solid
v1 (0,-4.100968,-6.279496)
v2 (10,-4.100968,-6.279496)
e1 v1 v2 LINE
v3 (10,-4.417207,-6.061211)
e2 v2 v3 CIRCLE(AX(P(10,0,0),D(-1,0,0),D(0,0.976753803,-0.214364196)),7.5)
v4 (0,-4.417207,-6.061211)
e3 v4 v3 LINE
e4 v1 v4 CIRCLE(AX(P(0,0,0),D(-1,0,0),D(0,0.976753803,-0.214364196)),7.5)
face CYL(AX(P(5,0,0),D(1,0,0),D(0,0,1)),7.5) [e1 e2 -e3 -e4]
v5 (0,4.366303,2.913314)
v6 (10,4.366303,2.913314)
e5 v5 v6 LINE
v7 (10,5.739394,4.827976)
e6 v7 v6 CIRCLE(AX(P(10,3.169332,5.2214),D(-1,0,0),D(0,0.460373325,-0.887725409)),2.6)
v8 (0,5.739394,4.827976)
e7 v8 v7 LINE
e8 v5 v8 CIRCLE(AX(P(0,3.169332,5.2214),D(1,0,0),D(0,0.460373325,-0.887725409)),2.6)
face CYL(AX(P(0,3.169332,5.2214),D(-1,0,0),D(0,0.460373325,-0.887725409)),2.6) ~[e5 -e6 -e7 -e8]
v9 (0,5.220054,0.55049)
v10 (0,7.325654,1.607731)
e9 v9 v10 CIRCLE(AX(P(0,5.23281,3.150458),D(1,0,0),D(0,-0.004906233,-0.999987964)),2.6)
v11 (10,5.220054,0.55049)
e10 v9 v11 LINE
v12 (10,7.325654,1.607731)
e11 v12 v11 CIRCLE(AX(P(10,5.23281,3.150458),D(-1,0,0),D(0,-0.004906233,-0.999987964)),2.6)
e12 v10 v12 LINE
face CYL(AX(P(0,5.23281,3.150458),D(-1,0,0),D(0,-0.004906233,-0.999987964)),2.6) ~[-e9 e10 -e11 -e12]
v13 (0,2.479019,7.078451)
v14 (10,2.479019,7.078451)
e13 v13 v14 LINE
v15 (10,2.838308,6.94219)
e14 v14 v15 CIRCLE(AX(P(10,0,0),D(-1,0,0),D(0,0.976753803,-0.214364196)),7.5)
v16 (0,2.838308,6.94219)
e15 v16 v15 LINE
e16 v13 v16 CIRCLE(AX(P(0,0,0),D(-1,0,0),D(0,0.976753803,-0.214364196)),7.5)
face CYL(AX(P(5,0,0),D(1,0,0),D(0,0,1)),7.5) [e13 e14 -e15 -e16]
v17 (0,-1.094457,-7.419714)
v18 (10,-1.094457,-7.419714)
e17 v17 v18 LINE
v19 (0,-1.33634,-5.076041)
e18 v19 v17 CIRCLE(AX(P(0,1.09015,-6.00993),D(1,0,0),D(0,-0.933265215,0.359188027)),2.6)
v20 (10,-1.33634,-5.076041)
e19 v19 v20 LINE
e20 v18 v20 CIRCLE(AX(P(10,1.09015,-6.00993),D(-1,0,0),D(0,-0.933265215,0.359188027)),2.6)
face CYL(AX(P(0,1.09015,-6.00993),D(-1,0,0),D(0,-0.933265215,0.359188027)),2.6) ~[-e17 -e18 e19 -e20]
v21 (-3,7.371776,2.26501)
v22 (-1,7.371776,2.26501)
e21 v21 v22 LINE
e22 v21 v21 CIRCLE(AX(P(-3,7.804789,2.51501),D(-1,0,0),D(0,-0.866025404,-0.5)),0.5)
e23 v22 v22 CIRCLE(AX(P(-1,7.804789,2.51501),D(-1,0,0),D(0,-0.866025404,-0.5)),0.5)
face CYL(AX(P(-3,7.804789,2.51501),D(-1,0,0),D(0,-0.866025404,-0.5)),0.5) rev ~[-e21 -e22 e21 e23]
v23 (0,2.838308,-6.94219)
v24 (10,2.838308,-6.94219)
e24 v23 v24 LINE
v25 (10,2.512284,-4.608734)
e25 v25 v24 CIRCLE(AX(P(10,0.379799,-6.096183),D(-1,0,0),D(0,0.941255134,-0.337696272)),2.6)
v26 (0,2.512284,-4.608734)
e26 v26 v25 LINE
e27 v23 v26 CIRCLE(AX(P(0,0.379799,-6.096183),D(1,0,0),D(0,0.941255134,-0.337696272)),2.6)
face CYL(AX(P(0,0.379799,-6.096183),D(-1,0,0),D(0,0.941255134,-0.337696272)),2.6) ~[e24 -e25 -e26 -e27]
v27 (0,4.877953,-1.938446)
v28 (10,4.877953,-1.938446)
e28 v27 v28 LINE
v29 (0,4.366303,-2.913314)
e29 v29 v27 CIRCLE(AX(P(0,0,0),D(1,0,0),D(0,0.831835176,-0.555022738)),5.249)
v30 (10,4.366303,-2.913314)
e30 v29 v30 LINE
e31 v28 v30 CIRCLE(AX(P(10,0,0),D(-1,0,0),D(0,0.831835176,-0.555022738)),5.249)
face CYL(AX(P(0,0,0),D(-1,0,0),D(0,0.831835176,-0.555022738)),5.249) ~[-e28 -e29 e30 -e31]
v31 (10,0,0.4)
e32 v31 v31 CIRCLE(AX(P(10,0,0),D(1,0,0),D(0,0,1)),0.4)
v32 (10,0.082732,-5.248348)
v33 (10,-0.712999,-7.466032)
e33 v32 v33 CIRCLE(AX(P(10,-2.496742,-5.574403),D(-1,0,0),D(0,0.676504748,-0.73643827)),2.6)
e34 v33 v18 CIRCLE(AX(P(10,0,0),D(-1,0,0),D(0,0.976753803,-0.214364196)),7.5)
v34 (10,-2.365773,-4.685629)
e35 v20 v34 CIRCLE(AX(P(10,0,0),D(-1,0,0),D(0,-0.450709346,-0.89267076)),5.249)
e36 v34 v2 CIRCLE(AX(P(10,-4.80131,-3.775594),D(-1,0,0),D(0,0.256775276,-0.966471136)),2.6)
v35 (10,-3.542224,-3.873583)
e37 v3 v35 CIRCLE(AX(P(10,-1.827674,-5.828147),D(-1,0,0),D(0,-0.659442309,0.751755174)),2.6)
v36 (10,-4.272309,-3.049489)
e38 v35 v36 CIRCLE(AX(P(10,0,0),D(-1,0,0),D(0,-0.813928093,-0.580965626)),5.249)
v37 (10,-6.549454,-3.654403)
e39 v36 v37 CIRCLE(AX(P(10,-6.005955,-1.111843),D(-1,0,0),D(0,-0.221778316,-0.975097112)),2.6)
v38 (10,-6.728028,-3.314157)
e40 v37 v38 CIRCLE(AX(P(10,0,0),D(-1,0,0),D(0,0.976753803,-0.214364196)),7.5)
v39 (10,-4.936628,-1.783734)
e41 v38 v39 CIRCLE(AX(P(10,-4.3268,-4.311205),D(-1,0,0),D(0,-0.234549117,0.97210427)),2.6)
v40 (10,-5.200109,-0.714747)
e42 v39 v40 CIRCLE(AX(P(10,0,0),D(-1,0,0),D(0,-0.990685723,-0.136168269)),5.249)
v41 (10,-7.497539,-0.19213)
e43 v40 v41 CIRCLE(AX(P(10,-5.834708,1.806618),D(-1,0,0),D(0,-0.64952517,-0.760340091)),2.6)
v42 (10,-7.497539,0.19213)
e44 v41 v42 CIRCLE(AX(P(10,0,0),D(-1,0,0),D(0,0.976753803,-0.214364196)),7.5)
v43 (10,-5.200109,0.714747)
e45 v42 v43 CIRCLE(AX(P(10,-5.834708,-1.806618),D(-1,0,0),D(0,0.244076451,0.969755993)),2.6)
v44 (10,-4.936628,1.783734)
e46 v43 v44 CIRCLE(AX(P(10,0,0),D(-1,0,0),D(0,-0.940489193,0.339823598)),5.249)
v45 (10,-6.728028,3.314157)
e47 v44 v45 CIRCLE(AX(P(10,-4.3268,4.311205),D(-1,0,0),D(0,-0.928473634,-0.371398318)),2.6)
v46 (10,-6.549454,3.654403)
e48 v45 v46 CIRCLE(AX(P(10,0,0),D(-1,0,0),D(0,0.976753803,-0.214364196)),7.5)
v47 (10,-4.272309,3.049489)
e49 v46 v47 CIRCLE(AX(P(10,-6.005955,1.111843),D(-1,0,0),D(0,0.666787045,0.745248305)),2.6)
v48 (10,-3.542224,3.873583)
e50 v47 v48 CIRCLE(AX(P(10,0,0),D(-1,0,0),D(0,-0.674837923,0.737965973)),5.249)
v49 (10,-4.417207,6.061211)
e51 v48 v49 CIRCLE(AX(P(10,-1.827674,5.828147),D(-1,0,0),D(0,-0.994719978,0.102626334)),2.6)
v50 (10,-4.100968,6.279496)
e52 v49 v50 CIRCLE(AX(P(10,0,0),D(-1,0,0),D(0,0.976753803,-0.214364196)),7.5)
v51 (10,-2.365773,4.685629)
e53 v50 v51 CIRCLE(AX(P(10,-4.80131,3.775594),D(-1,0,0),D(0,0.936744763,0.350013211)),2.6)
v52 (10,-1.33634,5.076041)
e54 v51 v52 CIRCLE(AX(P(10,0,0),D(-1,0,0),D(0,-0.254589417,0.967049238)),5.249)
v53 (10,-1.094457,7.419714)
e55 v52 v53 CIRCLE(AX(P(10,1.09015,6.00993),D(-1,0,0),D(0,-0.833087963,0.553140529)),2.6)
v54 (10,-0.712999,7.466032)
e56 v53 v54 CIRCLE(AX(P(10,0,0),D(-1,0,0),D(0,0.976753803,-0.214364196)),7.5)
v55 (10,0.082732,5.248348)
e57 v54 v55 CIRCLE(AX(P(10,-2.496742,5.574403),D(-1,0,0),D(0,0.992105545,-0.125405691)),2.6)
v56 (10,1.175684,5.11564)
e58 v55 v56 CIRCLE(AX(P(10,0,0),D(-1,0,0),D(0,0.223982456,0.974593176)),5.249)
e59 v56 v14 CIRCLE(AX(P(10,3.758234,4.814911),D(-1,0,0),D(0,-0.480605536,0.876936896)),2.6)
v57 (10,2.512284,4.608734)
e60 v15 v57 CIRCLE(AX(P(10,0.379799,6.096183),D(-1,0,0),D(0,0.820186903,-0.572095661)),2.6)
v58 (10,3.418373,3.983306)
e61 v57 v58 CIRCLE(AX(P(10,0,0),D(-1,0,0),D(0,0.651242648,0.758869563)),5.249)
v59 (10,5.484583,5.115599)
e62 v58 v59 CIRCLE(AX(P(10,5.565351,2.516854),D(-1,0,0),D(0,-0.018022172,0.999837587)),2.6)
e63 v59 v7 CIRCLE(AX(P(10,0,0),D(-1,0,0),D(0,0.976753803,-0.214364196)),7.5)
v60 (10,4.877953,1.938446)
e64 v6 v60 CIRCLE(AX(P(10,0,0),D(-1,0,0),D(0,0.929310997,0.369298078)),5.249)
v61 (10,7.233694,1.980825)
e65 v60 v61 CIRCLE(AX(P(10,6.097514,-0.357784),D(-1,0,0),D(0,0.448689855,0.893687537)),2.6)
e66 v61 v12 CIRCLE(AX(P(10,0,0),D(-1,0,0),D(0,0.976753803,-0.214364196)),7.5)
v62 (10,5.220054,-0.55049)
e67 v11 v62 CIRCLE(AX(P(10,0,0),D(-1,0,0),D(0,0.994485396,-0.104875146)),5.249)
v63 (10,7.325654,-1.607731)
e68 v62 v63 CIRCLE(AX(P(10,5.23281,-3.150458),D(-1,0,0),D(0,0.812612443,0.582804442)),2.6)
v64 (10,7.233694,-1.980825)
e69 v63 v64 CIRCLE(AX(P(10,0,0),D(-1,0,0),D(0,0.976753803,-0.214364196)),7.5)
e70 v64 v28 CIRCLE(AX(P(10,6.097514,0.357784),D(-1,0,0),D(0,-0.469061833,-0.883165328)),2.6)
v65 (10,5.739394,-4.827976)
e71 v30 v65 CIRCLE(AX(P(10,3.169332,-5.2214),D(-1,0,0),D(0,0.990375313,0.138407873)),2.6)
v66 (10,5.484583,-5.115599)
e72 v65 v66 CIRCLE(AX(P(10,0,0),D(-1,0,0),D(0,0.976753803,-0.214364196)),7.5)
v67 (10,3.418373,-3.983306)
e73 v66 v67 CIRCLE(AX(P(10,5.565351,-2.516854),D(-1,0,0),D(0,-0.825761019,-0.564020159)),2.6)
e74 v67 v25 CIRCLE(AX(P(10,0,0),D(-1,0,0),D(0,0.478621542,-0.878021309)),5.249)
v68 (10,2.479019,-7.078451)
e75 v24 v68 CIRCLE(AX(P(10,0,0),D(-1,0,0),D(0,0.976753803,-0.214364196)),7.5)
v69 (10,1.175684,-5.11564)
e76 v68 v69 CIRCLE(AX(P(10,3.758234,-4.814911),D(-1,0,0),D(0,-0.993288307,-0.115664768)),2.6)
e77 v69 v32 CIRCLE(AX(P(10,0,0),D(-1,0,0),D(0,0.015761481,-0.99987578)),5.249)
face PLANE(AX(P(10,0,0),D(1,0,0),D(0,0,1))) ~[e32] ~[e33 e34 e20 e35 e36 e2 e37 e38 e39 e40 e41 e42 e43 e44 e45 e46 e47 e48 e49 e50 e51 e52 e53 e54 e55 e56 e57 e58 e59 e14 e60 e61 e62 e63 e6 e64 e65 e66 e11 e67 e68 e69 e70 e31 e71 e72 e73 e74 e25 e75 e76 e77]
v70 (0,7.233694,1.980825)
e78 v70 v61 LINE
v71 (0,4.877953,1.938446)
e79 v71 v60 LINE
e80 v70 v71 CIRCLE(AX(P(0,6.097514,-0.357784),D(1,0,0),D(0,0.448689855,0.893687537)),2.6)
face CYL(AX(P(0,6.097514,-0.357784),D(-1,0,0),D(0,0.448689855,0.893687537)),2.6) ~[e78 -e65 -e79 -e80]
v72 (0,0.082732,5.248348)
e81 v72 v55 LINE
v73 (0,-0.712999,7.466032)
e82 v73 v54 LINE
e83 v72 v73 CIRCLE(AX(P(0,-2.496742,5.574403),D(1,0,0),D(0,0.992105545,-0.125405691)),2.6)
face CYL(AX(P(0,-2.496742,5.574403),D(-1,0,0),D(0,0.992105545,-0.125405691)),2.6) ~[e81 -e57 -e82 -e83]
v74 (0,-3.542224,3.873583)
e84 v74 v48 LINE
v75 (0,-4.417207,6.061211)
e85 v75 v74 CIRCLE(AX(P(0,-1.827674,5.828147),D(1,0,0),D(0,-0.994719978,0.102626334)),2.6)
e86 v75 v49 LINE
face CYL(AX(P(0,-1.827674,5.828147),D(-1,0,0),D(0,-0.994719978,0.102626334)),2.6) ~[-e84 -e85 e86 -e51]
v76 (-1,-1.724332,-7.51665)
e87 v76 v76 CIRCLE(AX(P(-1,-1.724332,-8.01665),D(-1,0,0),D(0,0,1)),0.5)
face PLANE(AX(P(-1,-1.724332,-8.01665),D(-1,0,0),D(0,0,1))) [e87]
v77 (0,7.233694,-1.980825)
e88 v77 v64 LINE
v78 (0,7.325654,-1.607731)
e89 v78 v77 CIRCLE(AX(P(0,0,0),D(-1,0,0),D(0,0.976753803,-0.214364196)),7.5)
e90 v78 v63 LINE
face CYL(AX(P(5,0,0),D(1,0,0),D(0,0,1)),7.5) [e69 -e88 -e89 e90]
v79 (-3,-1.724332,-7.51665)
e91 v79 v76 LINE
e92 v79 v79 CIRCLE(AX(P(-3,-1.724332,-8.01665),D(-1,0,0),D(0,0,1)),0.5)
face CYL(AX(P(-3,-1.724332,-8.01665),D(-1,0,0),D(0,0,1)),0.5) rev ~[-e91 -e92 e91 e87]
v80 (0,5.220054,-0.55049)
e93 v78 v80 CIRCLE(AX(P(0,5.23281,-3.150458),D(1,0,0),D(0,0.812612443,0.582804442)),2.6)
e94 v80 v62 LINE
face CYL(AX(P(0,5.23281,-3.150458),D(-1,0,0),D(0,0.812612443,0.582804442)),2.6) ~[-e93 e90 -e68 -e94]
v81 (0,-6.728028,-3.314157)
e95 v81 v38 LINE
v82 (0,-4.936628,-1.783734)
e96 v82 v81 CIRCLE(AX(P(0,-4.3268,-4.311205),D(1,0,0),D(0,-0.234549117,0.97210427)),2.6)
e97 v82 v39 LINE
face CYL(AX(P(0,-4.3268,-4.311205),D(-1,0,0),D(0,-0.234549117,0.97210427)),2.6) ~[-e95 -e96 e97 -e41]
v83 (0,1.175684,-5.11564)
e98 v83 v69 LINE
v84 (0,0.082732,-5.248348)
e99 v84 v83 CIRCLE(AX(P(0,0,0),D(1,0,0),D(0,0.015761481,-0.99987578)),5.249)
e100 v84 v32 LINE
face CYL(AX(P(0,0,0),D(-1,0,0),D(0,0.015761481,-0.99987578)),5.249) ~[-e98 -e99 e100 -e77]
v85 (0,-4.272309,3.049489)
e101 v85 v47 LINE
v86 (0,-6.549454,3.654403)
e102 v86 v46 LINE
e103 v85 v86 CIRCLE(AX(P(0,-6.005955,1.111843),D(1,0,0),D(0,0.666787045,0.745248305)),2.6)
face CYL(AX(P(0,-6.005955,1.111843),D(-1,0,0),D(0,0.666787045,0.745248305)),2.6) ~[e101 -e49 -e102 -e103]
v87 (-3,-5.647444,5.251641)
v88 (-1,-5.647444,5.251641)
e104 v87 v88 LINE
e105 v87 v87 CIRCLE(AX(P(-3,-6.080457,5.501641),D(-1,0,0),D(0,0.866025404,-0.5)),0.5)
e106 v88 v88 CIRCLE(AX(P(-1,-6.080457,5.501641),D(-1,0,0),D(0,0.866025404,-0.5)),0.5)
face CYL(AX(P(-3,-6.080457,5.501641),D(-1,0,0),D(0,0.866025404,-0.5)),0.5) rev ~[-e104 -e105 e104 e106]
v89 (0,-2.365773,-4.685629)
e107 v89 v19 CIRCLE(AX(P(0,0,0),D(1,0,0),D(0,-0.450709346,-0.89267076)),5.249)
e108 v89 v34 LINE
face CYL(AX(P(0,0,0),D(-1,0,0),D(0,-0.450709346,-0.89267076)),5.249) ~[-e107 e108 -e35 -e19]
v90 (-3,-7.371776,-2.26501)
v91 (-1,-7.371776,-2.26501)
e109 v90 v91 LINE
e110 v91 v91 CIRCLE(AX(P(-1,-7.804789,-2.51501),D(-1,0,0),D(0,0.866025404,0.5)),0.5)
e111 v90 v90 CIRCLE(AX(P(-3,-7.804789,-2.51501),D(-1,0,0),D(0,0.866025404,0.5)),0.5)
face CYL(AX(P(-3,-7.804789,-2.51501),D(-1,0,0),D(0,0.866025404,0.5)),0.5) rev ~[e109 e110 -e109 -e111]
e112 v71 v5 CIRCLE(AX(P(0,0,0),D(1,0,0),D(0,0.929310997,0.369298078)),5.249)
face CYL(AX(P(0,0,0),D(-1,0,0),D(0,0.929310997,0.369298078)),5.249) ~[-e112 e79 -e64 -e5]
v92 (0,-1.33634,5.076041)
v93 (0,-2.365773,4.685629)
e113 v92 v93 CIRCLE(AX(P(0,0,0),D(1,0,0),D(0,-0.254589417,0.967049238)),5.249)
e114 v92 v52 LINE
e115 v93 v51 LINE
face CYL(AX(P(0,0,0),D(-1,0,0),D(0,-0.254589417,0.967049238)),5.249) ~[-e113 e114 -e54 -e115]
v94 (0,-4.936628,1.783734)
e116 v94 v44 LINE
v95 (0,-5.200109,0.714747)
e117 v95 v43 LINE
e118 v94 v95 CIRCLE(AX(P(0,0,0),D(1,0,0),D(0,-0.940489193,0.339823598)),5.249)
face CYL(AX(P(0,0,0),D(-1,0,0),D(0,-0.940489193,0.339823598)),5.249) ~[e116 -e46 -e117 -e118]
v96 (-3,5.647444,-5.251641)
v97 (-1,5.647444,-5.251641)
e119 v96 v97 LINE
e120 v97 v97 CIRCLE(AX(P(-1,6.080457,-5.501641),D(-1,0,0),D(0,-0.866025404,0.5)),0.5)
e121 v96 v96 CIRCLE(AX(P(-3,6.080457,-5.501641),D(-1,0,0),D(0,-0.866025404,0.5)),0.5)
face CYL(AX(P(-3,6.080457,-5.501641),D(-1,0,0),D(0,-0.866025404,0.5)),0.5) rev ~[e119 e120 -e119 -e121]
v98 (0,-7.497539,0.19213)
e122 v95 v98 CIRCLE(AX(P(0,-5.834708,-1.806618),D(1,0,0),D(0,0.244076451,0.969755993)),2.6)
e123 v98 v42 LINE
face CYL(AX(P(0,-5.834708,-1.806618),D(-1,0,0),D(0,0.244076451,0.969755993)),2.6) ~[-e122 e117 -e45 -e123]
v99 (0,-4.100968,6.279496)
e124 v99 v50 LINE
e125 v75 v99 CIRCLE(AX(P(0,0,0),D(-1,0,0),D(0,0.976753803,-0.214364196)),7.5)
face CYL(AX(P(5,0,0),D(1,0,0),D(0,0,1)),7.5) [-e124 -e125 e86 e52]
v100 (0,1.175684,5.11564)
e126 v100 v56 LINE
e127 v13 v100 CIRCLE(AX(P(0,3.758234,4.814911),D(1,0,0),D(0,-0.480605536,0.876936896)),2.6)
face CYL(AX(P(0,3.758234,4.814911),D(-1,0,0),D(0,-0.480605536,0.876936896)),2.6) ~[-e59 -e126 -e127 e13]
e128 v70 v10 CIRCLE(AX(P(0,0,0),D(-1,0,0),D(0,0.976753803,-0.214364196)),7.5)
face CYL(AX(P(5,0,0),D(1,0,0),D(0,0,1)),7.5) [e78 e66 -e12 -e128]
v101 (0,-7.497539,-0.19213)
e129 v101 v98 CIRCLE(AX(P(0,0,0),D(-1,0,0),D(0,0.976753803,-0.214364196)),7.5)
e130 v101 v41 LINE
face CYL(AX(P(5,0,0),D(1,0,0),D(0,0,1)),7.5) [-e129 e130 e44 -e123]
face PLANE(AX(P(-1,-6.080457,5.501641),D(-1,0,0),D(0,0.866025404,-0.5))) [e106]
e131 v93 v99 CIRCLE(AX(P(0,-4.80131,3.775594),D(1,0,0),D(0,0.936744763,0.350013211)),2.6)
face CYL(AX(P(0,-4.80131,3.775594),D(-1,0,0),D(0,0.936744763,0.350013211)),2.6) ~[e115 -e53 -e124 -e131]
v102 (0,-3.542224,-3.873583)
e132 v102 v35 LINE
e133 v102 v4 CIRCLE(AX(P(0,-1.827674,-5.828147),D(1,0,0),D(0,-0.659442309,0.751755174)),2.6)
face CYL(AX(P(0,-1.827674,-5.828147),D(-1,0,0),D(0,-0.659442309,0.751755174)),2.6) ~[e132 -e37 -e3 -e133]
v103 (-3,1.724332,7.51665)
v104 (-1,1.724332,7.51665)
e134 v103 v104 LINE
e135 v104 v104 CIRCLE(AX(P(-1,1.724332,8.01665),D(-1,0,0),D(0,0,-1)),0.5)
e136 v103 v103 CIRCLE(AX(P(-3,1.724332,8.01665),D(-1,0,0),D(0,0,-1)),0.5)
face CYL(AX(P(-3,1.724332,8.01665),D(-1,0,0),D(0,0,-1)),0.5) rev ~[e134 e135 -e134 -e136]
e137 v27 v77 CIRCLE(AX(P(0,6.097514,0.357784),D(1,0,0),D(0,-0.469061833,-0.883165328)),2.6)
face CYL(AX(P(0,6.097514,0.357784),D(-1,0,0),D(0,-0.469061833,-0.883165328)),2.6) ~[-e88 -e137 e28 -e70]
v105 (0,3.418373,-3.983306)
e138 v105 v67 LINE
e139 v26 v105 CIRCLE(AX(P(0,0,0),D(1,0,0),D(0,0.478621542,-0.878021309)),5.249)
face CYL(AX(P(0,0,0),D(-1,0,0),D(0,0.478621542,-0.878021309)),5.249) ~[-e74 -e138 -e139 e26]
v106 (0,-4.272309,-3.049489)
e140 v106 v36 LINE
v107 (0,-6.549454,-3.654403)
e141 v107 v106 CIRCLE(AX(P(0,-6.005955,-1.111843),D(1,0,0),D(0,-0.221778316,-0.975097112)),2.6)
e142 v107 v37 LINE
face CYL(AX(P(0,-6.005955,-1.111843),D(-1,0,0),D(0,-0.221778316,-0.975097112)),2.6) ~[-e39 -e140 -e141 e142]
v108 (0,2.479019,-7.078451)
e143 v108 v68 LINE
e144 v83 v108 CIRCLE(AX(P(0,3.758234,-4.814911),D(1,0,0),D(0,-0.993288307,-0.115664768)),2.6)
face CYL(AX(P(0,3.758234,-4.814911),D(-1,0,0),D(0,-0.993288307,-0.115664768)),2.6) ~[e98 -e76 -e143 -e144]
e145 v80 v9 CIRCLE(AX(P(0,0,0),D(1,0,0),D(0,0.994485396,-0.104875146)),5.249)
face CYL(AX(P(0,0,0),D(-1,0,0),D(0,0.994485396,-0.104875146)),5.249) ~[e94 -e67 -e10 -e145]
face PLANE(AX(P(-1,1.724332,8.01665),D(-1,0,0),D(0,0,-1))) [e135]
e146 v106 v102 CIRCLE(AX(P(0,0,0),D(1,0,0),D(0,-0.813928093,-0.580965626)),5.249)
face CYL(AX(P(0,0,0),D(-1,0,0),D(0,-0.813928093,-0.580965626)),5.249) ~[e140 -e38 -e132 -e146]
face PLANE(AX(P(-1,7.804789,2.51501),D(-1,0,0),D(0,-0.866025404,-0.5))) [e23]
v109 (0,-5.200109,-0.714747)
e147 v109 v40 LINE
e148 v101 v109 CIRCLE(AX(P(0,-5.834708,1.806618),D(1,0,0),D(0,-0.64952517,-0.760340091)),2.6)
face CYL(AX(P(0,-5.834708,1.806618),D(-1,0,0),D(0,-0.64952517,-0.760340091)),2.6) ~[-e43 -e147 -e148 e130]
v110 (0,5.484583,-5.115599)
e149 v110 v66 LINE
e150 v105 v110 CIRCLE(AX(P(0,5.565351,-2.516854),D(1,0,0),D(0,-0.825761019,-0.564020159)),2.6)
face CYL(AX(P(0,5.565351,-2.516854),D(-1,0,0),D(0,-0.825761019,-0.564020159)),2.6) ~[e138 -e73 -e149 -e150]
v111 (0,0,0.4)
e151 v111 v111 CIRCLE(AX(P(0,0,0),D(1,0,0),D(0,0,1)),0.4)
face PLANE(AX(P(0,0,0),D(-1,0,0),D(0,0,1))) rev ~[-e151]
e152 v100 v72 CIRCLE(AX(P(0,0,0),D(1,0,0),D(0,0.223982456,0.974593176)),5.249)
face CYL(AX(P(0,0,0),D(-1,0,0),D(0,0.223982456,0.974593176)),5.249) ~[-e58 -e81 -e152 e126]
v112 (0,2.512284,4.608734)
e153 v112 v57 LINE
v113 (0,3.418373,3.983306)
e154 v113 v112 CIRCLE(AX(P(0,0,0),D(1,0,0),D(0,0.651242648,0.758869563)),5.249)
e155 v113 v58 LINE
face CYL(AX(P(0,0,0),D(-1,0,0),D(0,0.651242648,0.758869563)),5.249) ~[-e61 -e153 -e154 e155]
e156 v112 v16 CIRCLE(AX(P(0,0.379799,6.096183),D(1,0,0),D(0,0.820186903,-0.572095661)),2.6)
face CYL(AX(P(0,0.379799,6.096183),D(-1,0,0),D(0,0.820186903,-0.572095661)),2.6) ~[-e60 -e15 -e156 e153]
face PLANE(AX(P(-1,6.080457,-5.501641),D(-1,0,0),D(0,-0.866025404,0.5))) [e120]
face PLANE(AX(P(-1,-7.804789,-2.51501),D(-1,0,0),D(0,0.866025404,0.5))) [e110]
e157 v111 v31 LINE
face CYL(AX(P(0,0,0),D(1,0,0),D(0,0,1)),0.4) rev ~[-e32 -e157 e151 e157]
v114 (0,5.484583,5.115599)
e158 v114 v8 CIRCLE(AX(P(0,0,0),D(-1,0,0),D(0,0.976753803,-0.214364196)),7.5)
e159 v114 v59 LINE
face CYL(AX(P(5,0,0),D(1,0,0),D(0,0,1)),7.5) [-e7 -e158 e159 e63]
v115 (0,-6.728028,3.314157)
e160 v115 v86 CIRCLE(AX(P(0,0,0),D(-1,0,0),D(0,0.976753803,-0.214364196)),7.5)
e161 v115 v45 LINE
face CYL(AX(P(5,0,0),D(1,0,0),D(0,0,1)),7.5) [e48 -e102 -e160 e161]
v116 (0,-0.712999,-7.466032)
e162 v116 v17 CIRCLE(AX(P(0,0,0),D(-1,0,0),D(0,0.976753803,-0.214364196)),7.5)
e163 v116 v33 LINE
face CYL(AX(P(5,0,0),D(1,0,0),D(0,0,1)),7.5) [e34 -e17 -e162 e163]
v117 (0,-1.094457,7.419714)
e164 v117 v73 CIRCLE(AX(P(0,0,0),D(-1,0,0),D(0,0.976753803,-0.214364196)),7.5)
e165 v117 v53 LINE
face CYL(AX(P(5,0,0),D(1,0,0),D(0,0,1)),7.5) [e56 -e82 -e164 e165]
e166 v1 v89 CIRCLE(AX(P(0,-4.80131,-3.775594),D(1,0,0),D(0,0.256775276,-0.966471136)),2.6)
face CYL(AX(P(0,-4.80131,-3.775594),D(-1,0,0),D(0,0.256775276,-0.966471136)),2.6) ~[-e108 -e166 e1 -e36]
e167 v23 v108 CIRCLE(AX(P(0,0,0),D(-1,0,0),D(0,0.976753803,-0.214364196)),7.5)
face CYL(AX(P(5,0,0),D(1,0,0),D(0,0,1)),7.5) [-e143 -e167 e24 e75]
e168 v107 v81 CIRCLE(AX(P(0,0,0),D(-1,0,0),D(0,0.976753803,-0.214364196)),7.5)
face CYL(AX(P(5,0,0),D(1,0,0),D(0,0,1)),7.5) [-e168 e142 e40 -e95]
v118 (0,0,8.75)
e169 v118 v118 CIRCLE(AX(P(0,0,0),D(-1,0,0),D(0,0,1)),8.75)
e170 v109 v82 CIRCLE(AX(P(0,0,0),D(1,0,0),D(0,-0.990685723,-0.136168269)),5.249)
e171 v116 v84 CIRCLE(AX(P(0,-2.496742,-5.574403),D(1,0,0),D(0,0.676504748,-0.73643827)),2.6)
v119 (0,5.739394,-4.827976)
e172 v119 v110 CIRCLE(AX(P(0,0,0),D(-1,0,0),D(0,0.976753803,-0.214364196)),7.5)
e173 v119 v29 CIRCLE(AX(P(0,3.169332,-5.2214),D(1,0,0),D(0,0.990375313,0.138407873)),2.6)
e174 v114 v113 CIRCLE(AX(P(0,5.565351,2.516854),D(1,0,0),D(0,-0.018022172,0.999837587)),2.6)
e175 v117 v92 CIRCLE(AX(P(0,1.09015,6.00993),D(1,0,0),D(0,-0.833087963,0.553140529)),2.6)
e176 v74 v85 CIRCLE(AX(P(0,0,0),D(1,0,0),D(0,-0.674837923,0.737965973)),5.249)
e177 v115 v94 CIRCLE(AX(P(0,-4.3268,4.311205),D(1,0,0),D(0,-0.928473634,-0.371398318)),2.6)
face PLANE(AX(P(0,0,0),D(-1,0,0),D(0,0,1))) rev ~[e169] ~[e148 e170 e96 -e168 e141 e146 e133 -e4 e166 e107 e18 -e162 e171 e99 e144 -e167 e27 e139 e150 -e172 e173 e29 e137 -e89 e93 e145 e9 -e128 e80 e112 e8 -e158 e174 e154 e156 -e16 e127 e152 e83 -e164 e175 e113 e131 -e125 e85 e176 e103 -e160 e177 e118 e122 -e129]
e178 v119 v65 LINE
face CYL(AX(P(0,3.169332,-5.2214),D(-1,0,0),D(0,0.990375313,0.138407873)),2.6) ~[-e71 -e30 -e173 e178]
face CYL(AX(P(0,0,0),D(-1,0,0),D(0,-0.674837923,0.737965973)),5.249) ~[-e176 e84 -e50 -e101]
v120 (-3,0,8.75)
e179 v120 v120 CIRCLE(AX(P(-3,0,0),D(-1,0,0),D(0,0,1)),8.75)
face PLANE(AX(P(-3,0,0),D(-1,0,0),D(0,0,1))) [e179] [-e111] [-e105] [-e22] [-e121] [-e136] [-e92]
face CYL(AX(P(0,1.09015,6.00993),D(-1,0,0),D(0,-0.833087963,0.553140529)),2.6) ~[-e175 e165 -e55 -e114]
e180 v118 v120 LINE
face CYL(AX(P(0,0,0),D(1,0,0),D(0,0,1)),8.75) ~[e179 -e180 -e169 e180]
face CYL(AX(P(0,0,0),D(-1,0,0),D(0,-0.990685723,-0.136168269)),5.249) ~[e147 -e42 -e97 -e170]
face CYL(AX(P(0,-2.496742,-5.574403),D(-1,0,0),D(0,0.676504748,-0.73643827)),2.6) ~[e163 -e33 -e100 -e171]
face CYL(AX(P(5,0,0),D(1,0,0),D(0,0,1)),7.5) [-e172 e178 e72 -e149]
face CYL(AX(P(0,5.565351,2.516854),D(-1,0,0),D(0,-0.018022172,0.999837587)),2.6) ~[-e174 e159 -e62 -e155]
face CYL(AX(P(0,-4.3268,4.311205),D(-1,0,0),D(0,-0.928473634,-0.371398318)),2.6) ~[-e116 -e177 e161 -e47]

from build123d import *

# Parameters (mm, degrees)
BASPROSKE_W         = 10
BASPROSKE_H         = 7.5
TOOTHCUT_DEPTH      = 15.577379737
TEETHCUTS_COUNT     = 13
TEETHCUTS_ANGLE     = 332.307692308
BORSKE_R            = 0.4
BORE_DEPTH          = 50.0000508
SKETCH1_R           = 8.75
BOSS_EXTRUDE1_DEPTH = 3
SKETCH6_R           = 0.5
CUT_EXTRUDE1_DEPTH  = 2
CIRPATTERN1_COUNT   = 6


with BuildPart() as part:
    # BasProSke → Base-Revolve (revolve)
    with BuildSketch(Plane(origin=(0, 0, 0), x_dir=(1, 0, 0), z_dir=(0, 1, 0)), mode=Mode.PRIVATE) as base_revolve_sk:
        with Locations((5, 3.75)):
            Rectangle(BASPROSKE_W, BASPROSKE_H)
    revolve(base_revolve_sk.sketch.rotate(Axis((-10, 0, 0), (1, 0, 0)), 180), axis=Axis((-10, 0, 0), (1, 0, 0)))

    # TooCutSke → ToothCut (cut, through all)
    with BuildSketch(Plane(origin=(0, 0, 0), x_dir=(0, 0, -1), z_dir=(1, 0, 0))):
        with BuildLine():
            ThreePointArc((0.550489643, 5.220053846), (0, 5.249), (-0.550489643, 5.220053846))
            ThreePointArc((-0.550489643, 5.220053846), (-0.834571714, 6.414617604), (-1.635166801, 7.345602405))
            ThreePointArc((-1.635166801, 7.345602405), (0, 7.5254), (1.635166801, 7.345602405))
            ThreePointArc((1.635166801, 7.345602405), (0.834571714, 6.414617604), (0.550489643, 5.220053846))
        make_face()
    toothcut = extrude(amount=TOOTHCUT_DEPTH, mode=Mode.SUBTRACT)

    # TeethCuts: ToothCut ×13 about axis
    teethcuts_axis = Axis((-10, 0, 0), (1, 0, 0))
    for i in range(1, TEETHCUTS_COUNT):
        add(toothcut.rotate(teethcuts_axis, i * TEETHCUTS_ANGLE / (TEETHCUTS_COUNT - 1)), mode=Mode.SUBTRACT)

    # BorSke → Bore (cut, symmetric)
    with BuildSketch(Plane(origin=(0, 0, 0), x_dir=(0, 0, -1), z_dir=(1, 0, 0))):
        with Locations(Location((0, 0, 0), (0, 0, 180))):
            Circle(BORSKE_R)
    extrude(amount=BORE_DEPTH, both=True, mode=Mode.SUBTRACT)

    # Sketch1 → Boss-Extrude1 (add)
    with BuildSketch(Plane.ZY):
        Circle(SKETCH1_R)
    extrude(amount=BOSS_EXTRUDE1_DEPTH)

    # Sketch6 → Cut-Extrude1 (cut)
    with BuildSketch(Plane.ZY.offset(3)):
        with Locations((-8.01665008, -1.724332186)):
            Circle(SKETCH6_R)
    cut_extrude1 = extrude(amount=-CUT_EXTRUDE1_DEPTH, mode=Mode.SUBTRACT)

    # CirPattern1: Cut-Extrude1 ×6 about axis
    cirpattern1_axis = Axis((0, 0, 0), (1, 0, 0))
    for i in range(1, CIRPATTERN1_COUNT):
        add(cut_extrude1.rotate(cirpattern1_axis, i * 360 / CIRPATTERN1_COUNT), mode=Mode.SUBTRACT)


solid = part.part
